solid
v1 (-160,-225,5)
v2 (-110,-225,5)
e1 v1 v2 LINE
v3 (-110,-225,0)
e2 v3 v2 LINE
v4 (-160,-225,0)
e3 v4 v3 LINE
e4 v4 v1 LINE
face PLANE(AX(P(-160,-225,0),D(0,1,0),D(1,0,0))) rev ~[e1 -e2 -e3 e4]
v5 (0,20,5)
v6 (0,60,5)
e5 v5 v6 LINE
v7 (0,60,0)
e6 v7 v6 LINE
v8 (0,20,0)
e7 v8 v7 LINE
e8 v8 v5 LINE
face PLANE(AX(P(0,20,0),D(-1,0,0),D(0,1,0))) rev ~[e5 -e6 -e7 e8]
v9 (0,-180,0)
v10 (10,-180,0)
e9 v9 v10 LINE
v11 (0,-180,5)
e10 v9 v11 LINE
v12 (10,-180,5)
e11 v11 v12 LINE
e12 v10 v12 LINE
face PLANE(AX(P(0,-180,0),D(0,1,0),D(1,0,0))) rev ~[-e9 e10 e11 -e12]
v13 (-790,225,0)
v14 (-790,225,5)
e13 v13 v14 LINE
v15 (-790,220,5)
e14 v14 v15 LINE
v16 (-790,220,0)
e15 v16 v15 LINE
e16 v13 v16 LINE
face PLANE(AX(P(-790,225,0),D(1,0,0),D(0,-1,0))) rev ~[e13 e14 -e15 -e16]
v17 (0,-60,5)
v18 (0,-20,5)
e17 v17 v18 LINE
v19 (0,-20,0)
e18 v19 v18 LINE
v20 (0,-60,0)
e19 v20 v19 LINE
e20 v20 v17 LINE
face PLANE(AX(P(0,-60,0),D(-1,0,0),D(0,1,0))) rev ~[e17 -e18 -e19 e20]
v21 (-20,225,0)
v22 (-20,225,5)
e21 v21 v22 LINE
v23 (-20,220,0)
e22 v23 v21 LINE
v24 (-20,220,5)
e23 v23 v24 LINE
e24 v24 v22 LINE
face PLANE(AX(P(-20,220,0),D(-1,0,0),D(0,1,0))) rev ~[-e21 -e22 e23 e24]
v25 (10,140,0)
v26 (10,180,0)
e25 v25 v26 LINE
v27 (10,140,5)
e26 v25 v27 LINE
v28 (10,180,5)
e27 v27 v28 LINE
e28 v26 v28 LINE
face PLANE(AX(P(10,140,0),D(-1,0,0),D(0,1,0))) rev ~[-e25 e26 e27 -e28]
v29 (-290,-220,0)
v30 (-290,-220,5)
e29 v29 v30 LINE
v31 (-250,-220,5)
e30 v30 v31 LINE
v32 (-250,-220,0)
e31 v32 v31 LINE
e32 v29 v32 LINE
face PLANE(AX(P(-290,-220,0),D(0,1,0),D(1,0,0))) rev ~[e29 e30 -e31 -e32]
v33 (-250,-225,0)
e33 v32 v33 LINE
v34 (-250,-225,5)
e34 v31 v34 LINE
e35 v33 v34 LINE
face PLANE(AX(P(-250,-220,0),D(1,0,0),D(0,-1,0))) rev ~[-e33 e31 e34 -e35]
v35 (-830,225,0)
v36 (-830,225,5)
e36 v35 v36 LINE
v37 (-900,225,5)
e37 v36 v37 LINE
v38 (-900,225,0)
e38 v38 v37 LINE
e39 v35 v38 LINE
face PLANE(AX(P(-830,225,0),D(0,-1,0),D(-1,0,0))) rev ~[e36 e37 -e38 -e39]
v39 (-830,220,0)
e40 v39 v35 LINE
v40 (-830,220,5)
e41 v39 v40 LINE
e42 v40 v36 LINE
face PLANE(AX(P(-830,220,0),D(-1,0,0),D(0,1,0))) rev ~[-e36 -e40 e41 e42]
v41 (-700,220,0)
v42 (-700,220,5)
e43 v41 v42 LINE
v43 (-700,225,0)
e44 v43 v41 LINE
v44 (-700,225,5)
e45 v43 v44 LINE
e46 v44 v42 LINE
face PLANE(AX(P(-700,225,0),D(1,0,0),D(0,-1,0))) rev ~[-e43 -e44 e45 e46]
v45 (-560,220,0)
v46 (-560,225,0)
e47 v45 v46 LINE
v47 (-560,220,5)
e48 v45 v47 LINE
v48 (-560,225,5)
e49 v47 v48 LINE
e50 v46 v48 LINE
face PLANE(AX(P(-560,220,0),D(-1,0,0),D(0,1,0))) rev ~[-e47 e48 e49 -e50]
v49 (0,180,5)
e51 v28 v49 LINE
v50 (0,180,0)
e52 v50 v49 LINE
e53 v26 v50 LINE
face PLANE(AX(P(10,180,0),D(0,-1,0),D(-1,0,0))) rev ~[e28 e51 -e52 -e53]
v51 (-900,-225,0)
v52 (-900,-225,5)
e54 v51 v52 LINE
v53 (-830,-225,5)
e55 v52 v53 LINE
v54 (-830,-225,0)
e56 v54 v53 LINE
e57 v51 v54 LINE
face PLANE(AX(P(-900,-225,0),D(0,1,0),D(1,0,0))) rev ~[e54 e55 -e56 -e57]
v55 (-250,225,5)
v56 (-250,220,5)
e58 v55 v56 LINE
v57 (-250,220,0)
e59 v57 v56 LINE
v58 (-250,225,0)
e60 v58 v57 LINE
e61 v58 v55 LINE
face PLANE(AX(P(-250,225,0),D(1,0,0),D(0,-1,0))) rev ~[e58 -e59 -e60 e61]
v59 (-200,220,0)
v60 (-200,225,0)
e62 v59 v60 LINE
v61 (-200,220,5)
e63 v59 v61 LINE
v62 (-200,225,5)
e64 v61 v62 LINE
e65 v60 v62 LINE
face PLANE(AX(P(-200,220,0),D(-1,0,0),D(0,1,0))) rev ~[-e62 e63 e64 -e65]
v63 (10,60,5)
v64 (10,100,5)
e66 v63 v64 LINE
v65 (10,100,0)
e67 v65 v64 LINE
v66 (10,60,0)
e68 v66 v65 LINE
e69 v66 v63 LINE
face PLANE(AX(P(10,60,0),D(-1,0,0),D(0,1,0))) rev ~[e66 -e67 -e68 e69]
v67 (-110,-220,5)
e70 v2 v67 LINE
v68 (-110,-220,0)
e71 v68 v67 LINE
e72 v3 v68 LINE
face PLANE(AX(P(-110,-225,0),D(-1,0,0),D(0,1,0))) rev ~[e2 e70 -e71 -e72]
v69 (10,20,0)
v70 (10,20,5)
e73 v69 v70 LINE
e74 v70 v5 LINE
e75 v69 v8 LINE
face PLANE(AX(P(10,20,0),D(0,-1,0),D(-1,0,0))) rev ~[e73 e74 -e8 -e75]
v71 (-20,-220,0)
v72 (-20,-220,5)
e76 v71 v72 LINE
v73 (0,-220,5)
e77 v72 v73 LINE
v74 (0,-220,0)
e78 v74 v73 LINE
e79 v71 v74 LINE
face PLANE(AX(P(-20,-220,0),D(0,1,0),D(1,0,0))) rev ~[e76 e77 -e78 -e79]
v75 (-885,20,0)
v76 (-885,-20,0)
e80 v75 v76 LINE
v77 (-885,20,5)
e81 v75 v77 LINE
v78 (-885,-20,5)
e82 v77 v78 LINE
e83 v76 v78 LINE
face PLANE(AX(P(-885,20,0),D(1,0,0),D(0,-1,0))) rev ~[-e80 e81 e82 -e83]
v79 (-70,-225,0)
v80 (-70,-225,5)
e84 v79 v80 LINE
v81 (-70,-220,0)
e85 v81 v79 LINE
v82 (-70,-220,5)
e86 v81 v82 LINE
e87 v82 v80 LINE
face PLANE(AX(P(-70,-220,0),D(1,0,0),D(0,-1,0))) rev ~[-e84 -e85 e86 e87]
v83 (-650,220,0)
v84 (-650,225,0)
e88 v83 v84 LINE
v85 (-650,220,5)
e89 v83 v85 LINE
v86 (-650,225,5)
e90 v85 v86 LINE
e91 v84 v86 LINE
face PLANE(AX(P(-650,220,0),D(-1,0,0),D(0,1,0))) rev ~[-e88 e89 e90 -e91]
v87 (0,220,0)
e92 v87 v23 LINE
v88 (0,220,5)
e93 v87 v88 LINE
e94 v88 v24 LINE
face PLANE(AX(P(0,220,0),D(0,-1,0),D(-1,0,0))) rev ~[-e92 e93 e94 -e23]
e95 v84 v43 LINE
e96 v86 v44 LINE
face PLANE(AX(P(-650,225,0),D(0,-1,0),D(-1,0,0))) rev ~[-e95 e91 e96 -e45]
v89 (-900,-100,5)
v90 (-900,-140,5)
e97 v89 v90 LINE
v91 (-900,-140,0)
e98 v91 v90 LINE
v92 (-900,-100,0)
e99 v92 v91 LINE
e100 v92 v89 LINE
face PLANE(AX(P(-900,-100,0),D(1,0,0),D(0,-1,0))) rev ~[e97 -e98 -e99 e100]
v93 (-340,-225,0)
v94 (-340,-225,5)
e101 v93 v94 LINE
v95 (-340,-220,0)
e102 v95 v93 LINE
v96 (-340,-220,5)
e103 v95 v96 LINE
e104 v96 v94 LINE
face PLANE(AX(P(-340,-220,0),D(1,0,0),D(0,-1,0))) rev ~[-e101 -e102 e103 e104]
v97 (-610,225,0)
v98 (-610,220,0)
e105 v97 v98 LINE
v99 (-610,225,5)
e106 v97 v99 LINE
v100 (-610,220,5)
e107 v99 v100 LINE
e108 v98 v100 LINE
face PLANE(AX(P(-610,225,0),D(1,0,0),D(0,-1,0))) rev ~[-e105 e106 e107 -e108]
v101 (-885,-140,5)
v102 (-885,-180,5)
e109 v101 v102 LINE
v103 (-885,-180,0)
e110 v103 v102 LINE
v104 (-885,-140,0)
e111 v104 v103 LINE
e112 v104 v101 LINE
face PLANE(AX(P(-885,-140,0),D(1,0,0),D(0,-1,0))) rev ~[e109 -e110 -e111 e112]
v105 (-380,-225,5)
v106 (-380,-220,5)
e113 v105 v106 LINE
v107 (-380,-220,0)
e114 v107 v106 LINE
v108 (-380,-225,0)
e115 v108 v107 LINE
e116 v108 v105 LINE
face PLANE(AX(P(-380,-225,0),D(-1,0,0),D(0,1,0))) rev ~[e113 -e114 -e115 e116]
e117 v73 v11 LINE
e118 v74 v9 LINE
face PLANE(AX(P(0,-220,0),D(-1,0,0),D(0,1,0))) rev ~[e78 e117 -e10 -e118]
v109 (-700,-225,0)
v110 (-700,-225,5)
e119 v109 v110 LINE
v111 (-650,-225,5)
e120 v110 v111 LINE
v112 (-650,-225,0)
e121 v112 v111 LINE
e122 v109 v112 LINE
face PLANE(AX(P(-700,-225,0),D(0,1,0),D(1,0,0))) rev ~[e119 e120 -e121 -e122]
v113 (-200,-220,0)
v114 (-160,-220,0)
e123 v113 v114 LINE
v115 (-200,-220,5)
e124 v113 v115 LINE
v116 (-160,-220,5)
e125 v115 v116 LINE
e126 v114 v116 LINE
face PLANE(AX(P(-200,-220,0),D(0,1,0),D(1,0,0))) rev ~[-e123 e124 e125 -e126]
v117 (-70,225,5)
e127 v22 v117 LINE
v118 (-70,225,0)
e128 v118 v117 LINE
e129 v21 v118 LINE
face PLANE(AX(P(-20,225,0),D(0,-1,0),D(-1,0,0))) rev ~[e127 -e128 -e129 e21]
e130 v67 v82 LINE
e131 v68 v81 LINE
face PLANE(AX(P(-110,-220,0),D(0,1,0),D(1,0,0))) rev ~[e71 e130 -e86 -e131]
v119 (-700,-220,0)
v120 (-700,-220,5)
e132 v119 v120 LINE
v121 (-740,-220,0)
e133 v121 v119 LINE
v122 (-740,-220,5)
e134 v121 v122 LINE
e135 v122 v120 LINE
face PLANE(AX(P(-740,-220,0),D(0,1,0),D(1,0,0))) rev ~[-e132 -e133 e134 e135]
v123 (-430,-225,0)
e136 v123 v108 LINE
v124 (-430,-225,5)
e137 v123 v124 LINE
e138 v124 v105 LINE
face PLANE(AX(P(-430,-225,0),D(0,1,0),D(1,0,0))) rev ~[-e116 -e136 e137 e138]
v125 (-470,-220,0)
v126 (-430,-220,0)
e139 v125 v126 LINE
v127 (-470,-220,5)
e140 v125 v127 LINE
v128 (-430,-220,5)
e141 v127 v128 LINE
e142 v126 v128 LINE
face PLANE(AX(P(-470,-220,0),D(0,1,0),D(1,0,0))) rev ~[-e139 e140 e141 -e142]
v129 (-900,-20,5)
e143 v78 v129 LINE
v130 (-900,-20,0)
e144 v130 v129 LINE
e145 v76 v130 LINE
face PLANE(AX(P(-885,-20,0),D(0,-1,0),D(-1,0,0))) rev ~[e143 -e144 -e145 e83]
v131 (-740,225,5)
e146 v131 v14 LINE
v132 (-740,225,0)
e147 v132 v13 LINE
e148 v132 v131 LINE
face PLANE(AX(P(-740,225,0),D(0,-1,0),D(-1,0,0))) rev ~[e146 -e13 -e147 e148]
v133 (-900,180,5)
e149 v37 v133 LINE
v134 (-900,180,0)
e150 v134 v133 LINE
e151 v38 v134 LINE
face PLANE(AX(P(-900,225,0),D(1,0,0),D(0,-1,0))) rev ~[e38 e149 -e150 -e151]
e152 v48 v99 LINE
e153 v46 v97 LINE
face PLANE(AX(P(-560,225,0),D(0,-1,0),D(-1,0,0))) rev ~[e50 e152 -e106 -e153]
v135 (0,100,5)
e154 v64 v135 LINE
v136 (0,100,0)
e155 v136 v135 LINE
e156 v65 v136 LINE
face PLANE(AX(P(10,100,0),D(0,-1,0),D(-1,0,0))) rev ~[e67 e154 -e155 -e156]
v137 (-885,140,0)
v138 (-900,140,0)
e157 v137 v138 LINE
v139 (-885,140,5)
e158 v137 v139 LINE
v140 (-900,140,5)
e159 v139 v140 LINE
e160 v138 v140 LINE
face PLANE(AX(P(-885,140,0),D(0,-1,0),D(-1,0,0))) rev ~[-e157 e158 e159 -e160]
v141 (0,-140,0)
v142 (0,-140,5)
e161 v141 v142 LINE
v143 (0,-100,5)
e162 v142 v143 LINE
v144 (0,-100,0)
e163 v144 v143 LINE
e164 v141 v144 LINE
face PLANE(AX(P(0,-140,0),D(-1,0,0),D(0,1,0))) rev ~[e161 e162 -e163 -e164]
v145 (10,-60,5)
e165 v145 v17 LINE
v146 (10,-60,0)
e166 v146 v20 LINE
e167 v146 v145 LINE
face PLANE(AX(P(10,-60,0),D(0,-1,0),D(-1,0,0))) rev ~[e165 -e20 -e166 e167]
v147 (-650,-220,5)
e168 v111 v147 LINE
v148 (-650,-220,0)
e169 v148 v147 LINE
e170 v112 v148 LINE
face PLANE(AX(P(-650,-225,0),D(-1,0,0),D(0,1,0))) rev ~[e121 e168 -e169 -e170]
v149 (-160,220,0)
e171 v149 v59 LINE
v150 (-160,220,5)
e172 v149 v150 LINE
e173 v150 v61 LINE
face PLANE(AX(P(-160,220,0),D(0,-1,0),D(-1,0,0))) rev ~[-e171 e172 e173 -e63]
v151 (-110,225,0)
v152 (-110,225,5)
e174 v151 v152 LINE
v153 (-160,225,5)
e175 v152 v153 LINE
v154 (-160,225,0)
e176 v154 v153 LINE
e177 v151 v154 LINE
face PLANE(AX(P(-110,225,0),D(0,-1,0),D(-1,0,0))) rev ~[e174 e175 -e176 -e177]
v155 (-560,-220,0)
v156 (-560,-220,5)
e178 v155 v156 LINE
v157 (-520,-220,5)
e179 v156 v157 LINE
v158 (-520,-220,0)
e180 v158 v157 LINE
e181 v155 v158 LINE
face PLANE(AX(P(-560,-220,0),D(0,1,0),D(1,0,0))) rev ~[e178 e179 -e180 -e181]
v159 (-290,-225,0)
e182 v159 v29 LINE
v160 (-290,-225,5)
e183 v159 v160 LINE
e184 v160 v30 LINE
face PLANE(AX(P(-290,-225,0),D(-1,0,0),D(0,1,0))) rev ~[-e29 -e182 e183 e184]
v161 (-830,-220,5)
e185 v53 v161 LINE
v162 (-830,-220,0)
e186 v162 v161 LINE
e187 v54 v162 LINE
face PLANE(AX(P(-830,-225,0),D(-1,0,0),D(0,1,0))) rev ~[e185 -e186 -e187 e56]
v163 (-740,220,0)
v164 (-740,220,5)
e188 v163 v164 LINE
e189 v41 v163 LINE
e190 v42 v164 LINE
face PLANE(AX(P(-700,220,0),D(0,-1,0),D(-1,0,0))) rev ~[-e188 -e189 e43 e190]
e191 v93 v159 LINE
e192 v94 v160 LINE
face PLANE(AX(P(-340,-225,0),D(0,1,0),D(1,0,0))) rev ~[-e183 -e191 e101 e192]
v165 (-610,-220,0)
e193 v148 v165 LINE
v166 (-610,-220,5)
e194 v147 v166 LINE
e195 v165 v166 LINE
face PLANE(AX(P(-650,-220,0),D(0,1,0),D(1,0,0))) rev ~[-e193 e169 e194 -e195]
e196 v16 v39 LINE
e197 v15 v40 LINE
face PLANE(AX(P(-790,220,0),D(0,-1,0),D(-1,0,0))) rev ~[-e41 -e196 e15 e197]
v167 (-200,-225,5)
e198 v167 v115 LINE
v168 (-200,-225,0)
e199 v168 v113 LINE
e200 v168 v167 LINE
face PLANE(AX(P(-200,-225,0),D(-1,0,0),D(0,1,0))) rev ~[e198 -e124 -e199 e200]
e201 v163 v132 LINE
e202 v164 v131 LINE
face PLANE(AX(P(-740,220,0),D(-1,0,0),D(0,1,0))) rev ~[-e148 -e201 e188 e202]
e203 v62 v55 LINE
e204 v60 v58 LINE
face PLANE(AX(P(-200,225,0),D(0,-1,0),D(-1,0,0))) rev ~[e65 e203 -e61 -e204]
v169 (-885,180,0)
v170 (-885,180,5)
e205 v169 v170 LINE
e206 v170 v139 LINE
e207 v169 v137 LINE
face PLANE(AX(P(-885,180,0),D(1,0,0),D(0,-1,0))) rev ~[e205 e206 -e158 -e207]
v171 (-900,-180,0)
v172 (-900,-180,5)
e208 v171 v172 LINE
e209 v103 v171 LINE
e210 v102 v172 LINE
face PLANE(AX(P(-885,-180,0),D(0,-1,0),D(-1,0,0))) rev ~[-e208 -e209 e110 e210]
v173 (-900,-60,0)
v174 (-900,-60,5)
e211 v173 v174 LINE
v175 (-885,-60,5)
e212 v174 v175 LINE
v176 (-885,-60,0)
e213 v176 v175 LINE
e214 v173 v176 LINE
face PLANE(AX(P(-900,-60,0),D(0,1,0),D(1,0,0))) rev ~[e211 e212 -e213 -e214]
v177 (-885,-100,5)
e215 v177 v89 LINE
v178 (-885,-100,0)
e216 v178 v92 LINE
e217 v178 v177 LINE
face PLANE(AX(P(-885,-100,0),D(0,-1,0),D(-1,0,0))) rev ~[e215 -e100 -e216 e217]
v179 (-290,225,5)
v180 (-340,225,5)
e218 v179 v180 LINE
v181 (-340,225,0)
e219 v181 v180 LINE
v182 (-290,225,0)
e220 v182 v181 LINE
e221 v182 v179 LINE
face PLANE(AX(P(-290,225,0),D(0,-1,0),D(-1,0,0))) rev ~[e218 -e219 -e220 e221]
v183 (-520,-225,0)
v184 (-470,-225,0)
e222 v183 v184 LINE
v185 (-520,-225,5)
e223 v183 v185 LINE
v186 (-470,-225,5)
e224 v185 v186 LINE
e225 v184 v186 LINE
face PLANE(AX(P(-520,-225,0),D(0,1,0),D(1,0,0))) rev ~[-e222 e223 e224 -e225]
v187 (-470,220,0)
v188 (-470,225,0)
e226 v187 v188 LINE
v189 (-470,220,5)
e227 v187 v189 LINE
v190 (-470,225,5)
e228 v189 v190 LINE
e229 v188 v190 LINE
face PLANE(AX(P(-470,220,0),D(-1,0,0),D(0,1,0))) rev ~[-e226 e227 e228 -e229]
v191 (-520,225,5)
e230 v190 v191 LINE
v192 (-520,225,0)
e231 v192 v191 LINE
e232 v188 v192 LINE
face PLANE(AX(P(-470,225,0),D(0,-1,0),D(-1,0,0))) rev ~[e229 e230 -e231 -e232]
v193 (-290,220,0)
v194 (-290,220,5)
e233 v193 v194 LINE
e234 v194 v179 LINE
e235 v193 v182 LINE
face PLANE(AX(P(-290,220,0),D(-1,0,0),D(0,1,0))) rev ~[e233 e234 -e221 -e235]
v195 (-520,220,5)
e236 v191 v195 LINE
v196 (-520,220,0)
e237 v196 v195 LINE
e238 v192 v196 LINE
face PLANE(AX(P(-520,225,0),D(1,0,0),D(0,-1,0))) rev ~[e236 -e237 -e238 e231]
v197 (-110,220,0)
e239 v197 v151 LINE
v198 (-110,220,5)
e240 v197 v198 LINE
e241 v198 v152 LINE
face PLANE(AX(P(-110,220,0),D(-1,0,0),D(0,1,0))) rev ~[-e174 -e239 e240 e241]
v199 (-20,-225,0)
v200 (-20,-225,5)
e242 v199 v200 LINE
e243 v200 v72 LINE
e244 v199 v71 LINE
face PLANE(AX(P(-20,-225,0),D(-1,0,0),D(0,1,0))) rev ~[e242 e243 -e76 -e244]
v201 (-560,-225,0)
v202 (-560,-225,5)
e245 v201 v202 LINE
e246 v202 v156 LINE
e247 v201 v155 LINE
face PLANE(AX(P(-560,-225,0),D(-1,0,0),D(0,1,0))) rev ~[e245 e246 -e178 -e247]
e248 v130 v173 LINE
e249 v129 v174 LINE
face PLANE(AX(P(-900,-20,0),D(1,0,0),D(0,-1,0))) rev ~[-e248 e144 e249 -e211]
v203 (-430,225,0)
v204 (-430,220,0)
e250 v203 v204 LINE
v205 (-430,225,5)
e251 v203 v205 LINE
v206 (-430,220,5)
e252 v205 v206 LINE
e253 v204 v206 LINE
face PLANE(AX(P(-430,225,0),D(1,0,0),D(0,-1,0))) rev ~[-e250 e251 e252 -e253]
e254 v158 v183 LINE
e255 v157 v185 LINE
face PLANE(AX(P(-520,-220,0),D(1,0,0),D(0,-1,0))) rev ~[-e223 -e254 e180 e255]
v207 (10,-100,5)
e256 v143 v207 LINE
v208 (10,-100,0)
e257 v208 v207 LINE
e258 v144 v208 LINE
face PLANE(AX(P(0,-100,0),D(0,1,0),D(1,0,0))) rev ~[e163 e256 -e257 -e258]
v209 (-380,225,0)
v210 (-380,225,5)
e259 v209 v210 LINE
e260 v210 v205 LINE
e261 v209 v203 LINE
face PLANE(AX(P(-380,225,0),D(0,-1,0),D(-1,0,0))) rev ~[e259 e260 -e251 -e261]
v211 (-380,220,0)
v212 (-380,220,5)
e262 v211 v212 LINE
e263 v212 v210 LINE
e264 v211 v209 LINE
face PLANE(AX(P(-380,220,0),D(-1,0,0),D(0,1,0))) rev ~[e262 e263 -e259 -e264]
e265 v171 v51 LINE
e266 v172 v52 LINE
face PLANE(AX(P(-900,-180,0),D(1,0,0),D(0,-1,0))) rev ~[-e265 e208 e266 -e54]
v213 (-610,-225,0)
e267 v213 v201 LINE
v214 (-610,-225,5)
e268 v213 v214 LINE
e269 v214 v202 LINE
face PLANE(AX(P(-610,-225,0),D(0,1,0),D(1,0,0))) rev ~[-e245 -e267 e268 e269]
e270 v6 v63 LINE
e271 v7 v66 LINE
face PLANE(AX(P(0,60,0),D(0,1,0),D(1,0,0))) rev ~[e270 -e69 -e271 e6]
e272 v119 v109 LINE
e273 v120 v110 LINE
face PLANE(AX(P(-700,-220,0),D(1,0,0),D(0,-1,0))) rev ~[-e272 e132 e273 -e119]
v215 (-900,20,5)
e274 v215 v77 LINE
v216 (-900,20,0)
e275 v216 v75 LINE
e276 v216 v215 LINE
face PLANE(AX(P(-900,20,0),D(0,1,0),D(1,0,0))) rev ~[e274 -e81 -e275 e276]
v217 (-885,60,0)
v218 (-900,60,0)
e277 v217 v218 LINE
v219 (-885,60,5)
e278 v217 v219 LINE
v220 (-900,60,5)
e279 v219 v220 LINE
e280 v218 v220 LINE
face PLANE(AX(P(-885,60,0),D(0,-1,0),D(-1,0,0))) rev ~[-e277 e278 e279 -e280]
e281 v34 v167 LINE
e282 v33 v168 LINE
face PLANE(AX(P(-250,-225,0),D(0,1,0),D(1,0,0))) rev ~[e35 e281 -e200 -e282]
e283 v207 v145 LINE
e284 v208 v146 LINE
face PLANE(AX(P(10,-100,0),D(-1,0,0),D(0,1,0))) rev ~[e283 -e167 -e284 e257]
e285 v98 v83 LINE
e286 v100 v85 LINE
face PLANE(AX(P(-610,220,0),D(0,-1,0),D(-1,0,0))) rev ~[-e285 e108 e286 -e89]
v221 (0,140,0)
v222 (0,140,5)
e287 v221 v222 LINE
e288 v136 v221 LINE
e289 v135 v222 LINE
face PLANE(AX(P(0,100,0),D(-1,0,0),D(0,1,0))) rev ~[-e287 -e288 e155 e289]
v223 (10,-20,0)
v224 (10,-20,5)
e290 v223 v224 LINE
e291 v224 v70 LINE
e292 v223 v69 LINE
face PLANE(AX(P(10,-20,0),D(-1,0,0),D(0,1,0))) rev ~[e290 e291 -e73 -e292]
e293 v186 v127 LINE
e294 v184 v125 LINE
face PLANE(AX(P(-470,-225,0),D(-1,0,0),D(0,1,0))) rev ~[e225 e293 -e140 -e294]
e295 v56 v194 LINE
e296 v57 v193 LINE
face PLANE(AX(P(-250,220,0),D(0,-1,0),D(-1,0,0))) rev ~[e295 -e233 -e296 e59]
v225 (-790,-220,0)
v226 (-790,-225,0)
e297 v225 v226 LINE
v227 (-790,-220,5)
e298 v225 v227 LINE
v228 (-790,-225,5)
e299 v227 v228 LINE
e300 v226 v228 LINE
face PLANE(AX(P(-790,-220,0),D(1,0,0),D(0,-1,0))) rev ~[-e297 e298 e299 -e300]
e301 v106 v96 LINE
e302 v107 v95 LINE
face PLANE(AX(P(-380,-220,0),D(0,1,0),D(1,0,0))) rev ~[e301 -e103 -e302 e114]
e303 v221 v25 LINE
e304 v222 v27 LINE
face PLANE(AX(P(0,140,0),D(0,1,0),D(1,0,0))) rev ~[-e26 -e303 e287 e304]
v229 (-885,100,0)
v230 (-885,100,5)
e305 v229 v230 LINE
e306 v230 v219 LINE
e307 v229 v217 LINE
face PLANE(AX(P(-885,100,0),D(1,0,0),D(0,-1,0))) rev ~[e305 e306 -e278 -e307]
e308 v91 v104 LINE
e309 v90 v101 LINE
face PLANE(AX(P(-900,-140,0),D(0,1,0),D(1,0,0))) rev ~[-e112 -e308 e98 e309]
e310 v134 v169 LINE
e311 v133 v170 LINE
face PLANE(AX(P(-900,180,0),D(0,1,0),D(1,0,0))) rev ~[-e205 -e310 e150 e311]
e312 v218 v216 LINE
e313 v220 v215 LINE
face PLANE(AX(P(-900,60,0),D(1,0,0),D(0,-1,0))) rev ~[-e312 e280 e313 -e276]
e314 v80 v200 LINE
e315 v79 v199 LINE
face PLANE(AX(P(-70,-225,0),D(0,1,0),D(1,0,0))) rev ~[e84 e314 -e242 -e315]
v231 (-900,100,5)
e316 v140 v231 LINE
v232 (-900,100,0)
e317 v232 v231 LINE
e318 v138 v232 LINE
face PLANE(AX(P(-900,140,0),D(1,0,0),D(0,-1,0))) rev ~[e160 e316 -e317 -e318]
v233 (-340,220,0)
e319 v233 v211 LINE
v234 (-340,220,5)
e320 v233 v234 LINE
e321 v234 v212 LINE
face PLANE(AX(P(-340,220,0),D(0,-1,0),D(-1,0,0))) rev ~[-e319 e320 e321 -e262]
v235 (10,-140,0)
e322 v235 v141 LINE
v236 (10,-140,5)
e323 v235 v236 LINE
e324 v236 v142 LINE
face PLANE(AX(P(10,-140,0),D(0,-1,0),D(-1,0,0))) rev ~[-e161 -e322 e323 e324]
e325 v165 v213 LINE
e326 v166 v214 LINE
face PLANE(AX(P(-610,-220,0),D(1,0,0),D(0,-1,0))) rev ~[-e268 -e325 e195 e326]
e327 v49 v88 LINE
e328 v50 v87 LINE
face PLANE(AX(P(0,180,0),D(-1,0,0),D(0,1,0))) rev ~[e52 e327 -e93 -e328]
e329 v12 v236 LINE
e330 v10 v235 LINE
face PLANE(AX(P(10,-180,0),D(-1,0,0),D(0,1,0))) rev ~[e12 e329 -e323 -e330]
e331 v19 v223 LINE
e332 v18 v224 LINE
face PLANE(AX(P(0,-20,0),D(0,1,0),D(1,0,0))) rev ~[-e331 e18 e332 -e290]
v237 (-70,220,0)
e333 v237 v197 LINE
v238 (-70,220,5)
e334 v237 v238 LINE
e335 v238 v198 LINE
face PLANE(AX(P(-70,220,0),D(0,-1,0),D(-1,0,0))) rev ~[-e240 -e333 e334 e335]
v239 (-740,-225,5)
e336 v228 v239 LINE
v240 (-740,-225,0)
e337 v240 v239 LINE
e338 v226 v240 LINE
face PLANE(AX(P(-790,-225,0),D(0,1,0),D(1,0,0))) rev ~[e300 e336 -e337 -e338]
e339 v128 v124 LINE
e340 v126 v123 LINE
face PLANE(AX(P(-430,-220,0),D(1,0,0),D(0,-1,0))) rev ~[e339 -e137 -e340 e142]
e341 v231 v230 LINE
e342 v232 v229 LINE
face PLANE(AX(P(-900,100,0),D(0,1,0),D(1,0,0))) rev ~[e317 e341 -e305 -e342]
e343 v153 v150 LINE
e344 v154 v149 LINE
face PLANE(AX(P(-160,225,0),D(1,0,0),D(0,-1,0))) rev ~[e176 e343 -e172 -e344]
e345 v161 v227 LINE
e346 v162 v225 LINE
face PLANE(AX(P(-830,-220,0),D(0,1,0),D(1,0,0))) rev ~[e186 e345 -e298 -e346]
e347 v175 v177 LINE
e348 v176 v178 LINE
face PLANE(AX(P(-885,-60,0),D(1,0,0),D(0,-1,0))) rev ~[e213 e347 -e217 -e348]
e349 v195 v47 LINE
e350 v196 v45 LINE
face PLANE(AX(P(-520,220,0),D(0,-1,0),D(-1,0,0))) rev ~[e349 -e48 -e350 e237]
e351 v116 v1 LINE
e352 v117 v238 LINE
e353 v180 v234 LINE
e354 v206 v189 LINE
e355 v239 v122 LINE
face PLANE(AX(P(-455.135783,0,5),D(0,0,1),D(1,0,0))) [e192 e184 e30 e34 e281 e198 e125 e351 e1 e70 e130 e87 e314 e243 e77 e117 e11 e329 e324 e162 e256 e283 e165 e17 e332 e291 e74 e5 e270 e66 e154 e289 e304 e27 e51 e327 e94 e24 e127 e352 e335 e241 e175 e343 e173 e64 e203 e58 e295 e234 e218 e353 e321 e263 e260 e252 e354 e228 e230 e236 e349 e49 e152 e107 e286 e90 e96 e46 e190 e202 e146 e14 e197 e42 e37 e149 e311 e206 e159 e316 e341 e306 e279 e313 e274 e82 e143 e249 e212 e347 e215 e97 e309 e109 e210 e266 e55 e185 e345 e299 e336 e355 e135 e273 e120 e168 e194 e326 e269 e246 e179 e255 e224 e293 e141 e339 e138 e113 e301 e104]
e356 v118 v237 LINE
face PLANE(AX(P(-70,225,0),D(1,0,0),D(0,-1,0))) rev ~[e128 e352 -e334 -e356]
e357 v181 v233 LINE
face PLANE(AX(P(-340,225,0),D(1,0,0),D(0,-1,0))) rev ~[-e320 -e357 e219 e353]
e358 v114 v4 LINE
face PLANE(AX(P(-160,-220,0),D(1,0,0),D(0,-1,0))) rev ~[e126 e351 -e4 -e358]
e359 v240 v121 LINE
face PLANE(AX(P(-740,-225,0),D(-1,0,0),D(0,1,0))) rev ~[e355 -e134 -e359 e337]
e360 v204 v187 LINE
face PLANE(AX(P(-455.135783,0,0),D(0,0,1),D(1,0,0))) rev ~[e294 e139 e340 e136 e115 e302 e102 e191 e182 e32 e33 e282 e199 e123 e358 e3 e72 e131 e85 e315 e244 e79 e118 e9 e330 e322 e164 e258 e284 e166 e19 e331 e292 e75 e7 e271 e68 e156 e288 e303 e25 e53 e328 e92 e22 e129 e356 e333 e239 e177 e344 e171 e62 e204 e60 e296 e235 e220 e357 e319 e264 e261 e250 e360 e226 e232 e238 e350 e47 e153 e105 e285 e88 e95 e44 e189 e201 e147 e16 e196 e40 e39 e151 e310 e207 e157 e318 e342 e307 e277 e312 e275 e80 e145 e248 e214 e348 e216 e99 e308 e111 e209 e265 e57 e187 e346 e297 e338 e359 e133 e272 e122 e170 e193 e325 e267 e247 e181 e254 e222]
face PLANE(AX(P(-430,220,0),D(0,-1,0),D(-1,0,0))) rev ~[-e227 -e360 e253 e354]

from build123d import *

# Parameters (mm, degrees)
BOSS_EXTRUDE1_DEPTH = 5


with BuildPart() as part:
    # Sketch1 → Boss-Extrude1 (new body)
    with BuildSketch(Plane.XY):
        Polygon((0, 180), (0, 220), (-20, 220), (-20, 225), (-70, 225), (-70, 220), (-110, 220), (-110, 225), (-160, 225), (-160, 220), (-200, 220), (-200, 225), (-250, 225), (-250, 220), (-290, 220), (-290, 225), (-340, 225), (-340, 220), (-380, 220), (-380, 225), (-430, 225), (-430, 220), (-470, 220), (-470, 225), (-520, 225), (-520, 220), (-560, 220), (-560, 225), (-610, 225), (-610, 220), (-650, 220), (-650, 225), (-700, 225), (-700, 220), (-740, 220), (-740, 225), (-790, 225), (-790, 220), (-830, 220), (-830, 225), (-900, 225), (-900, 180), (-885, 180), (-885, 140), (-900, 140), (-900, 100), (-885, 100), (-885, 60), (-900, 60), (-900, 20), (-885, 20), (-885, -20), (-900, -20), (-900, -60), (-885, -60), (-885, -100), (-900, -100), (-900, -140), (-885, -140), (-885, -180), (-900, -180), (-900, -225), (-830, -225), (-830, -220), (-790, -220), (-790, -225), (-740, -225), (-740, -220), (-700, -220), (-700, -225), (-650, -225), (-650, -220), (-610, -220), (-610, -225), (-560, -225), (-560, -220), (-520, -220), (-520, -225), (-470, -225), (-470, -220), (-430, -220), (-430, -225), (-380, -225), (-380, -220), (-340, -220), (-340, -225), (-290, -225), (-290, -220), (-250, -220), (-250, -225), (-200, -225), (-200, -220), (-160, -220), (-160, -225), (-110, -225), (-110, -220), (-70, -220), (-70, -225), (-20, -225), (-20, -220), (0, -220), (0, -180), (10, -180), (10, -140), (0, -140), (0, -100), (10, -100), (10, -60), (0, -60), (0, -20), (10, -20), (10, 20), (0, 20), (0, 60), (10, 60), (10, 100), (0, 100), (0, 140), (10, 140), (10, 180), align=None)
    extrude(amount=BOSS_EXTRUDE1_DEPTH)


solid = part.part
